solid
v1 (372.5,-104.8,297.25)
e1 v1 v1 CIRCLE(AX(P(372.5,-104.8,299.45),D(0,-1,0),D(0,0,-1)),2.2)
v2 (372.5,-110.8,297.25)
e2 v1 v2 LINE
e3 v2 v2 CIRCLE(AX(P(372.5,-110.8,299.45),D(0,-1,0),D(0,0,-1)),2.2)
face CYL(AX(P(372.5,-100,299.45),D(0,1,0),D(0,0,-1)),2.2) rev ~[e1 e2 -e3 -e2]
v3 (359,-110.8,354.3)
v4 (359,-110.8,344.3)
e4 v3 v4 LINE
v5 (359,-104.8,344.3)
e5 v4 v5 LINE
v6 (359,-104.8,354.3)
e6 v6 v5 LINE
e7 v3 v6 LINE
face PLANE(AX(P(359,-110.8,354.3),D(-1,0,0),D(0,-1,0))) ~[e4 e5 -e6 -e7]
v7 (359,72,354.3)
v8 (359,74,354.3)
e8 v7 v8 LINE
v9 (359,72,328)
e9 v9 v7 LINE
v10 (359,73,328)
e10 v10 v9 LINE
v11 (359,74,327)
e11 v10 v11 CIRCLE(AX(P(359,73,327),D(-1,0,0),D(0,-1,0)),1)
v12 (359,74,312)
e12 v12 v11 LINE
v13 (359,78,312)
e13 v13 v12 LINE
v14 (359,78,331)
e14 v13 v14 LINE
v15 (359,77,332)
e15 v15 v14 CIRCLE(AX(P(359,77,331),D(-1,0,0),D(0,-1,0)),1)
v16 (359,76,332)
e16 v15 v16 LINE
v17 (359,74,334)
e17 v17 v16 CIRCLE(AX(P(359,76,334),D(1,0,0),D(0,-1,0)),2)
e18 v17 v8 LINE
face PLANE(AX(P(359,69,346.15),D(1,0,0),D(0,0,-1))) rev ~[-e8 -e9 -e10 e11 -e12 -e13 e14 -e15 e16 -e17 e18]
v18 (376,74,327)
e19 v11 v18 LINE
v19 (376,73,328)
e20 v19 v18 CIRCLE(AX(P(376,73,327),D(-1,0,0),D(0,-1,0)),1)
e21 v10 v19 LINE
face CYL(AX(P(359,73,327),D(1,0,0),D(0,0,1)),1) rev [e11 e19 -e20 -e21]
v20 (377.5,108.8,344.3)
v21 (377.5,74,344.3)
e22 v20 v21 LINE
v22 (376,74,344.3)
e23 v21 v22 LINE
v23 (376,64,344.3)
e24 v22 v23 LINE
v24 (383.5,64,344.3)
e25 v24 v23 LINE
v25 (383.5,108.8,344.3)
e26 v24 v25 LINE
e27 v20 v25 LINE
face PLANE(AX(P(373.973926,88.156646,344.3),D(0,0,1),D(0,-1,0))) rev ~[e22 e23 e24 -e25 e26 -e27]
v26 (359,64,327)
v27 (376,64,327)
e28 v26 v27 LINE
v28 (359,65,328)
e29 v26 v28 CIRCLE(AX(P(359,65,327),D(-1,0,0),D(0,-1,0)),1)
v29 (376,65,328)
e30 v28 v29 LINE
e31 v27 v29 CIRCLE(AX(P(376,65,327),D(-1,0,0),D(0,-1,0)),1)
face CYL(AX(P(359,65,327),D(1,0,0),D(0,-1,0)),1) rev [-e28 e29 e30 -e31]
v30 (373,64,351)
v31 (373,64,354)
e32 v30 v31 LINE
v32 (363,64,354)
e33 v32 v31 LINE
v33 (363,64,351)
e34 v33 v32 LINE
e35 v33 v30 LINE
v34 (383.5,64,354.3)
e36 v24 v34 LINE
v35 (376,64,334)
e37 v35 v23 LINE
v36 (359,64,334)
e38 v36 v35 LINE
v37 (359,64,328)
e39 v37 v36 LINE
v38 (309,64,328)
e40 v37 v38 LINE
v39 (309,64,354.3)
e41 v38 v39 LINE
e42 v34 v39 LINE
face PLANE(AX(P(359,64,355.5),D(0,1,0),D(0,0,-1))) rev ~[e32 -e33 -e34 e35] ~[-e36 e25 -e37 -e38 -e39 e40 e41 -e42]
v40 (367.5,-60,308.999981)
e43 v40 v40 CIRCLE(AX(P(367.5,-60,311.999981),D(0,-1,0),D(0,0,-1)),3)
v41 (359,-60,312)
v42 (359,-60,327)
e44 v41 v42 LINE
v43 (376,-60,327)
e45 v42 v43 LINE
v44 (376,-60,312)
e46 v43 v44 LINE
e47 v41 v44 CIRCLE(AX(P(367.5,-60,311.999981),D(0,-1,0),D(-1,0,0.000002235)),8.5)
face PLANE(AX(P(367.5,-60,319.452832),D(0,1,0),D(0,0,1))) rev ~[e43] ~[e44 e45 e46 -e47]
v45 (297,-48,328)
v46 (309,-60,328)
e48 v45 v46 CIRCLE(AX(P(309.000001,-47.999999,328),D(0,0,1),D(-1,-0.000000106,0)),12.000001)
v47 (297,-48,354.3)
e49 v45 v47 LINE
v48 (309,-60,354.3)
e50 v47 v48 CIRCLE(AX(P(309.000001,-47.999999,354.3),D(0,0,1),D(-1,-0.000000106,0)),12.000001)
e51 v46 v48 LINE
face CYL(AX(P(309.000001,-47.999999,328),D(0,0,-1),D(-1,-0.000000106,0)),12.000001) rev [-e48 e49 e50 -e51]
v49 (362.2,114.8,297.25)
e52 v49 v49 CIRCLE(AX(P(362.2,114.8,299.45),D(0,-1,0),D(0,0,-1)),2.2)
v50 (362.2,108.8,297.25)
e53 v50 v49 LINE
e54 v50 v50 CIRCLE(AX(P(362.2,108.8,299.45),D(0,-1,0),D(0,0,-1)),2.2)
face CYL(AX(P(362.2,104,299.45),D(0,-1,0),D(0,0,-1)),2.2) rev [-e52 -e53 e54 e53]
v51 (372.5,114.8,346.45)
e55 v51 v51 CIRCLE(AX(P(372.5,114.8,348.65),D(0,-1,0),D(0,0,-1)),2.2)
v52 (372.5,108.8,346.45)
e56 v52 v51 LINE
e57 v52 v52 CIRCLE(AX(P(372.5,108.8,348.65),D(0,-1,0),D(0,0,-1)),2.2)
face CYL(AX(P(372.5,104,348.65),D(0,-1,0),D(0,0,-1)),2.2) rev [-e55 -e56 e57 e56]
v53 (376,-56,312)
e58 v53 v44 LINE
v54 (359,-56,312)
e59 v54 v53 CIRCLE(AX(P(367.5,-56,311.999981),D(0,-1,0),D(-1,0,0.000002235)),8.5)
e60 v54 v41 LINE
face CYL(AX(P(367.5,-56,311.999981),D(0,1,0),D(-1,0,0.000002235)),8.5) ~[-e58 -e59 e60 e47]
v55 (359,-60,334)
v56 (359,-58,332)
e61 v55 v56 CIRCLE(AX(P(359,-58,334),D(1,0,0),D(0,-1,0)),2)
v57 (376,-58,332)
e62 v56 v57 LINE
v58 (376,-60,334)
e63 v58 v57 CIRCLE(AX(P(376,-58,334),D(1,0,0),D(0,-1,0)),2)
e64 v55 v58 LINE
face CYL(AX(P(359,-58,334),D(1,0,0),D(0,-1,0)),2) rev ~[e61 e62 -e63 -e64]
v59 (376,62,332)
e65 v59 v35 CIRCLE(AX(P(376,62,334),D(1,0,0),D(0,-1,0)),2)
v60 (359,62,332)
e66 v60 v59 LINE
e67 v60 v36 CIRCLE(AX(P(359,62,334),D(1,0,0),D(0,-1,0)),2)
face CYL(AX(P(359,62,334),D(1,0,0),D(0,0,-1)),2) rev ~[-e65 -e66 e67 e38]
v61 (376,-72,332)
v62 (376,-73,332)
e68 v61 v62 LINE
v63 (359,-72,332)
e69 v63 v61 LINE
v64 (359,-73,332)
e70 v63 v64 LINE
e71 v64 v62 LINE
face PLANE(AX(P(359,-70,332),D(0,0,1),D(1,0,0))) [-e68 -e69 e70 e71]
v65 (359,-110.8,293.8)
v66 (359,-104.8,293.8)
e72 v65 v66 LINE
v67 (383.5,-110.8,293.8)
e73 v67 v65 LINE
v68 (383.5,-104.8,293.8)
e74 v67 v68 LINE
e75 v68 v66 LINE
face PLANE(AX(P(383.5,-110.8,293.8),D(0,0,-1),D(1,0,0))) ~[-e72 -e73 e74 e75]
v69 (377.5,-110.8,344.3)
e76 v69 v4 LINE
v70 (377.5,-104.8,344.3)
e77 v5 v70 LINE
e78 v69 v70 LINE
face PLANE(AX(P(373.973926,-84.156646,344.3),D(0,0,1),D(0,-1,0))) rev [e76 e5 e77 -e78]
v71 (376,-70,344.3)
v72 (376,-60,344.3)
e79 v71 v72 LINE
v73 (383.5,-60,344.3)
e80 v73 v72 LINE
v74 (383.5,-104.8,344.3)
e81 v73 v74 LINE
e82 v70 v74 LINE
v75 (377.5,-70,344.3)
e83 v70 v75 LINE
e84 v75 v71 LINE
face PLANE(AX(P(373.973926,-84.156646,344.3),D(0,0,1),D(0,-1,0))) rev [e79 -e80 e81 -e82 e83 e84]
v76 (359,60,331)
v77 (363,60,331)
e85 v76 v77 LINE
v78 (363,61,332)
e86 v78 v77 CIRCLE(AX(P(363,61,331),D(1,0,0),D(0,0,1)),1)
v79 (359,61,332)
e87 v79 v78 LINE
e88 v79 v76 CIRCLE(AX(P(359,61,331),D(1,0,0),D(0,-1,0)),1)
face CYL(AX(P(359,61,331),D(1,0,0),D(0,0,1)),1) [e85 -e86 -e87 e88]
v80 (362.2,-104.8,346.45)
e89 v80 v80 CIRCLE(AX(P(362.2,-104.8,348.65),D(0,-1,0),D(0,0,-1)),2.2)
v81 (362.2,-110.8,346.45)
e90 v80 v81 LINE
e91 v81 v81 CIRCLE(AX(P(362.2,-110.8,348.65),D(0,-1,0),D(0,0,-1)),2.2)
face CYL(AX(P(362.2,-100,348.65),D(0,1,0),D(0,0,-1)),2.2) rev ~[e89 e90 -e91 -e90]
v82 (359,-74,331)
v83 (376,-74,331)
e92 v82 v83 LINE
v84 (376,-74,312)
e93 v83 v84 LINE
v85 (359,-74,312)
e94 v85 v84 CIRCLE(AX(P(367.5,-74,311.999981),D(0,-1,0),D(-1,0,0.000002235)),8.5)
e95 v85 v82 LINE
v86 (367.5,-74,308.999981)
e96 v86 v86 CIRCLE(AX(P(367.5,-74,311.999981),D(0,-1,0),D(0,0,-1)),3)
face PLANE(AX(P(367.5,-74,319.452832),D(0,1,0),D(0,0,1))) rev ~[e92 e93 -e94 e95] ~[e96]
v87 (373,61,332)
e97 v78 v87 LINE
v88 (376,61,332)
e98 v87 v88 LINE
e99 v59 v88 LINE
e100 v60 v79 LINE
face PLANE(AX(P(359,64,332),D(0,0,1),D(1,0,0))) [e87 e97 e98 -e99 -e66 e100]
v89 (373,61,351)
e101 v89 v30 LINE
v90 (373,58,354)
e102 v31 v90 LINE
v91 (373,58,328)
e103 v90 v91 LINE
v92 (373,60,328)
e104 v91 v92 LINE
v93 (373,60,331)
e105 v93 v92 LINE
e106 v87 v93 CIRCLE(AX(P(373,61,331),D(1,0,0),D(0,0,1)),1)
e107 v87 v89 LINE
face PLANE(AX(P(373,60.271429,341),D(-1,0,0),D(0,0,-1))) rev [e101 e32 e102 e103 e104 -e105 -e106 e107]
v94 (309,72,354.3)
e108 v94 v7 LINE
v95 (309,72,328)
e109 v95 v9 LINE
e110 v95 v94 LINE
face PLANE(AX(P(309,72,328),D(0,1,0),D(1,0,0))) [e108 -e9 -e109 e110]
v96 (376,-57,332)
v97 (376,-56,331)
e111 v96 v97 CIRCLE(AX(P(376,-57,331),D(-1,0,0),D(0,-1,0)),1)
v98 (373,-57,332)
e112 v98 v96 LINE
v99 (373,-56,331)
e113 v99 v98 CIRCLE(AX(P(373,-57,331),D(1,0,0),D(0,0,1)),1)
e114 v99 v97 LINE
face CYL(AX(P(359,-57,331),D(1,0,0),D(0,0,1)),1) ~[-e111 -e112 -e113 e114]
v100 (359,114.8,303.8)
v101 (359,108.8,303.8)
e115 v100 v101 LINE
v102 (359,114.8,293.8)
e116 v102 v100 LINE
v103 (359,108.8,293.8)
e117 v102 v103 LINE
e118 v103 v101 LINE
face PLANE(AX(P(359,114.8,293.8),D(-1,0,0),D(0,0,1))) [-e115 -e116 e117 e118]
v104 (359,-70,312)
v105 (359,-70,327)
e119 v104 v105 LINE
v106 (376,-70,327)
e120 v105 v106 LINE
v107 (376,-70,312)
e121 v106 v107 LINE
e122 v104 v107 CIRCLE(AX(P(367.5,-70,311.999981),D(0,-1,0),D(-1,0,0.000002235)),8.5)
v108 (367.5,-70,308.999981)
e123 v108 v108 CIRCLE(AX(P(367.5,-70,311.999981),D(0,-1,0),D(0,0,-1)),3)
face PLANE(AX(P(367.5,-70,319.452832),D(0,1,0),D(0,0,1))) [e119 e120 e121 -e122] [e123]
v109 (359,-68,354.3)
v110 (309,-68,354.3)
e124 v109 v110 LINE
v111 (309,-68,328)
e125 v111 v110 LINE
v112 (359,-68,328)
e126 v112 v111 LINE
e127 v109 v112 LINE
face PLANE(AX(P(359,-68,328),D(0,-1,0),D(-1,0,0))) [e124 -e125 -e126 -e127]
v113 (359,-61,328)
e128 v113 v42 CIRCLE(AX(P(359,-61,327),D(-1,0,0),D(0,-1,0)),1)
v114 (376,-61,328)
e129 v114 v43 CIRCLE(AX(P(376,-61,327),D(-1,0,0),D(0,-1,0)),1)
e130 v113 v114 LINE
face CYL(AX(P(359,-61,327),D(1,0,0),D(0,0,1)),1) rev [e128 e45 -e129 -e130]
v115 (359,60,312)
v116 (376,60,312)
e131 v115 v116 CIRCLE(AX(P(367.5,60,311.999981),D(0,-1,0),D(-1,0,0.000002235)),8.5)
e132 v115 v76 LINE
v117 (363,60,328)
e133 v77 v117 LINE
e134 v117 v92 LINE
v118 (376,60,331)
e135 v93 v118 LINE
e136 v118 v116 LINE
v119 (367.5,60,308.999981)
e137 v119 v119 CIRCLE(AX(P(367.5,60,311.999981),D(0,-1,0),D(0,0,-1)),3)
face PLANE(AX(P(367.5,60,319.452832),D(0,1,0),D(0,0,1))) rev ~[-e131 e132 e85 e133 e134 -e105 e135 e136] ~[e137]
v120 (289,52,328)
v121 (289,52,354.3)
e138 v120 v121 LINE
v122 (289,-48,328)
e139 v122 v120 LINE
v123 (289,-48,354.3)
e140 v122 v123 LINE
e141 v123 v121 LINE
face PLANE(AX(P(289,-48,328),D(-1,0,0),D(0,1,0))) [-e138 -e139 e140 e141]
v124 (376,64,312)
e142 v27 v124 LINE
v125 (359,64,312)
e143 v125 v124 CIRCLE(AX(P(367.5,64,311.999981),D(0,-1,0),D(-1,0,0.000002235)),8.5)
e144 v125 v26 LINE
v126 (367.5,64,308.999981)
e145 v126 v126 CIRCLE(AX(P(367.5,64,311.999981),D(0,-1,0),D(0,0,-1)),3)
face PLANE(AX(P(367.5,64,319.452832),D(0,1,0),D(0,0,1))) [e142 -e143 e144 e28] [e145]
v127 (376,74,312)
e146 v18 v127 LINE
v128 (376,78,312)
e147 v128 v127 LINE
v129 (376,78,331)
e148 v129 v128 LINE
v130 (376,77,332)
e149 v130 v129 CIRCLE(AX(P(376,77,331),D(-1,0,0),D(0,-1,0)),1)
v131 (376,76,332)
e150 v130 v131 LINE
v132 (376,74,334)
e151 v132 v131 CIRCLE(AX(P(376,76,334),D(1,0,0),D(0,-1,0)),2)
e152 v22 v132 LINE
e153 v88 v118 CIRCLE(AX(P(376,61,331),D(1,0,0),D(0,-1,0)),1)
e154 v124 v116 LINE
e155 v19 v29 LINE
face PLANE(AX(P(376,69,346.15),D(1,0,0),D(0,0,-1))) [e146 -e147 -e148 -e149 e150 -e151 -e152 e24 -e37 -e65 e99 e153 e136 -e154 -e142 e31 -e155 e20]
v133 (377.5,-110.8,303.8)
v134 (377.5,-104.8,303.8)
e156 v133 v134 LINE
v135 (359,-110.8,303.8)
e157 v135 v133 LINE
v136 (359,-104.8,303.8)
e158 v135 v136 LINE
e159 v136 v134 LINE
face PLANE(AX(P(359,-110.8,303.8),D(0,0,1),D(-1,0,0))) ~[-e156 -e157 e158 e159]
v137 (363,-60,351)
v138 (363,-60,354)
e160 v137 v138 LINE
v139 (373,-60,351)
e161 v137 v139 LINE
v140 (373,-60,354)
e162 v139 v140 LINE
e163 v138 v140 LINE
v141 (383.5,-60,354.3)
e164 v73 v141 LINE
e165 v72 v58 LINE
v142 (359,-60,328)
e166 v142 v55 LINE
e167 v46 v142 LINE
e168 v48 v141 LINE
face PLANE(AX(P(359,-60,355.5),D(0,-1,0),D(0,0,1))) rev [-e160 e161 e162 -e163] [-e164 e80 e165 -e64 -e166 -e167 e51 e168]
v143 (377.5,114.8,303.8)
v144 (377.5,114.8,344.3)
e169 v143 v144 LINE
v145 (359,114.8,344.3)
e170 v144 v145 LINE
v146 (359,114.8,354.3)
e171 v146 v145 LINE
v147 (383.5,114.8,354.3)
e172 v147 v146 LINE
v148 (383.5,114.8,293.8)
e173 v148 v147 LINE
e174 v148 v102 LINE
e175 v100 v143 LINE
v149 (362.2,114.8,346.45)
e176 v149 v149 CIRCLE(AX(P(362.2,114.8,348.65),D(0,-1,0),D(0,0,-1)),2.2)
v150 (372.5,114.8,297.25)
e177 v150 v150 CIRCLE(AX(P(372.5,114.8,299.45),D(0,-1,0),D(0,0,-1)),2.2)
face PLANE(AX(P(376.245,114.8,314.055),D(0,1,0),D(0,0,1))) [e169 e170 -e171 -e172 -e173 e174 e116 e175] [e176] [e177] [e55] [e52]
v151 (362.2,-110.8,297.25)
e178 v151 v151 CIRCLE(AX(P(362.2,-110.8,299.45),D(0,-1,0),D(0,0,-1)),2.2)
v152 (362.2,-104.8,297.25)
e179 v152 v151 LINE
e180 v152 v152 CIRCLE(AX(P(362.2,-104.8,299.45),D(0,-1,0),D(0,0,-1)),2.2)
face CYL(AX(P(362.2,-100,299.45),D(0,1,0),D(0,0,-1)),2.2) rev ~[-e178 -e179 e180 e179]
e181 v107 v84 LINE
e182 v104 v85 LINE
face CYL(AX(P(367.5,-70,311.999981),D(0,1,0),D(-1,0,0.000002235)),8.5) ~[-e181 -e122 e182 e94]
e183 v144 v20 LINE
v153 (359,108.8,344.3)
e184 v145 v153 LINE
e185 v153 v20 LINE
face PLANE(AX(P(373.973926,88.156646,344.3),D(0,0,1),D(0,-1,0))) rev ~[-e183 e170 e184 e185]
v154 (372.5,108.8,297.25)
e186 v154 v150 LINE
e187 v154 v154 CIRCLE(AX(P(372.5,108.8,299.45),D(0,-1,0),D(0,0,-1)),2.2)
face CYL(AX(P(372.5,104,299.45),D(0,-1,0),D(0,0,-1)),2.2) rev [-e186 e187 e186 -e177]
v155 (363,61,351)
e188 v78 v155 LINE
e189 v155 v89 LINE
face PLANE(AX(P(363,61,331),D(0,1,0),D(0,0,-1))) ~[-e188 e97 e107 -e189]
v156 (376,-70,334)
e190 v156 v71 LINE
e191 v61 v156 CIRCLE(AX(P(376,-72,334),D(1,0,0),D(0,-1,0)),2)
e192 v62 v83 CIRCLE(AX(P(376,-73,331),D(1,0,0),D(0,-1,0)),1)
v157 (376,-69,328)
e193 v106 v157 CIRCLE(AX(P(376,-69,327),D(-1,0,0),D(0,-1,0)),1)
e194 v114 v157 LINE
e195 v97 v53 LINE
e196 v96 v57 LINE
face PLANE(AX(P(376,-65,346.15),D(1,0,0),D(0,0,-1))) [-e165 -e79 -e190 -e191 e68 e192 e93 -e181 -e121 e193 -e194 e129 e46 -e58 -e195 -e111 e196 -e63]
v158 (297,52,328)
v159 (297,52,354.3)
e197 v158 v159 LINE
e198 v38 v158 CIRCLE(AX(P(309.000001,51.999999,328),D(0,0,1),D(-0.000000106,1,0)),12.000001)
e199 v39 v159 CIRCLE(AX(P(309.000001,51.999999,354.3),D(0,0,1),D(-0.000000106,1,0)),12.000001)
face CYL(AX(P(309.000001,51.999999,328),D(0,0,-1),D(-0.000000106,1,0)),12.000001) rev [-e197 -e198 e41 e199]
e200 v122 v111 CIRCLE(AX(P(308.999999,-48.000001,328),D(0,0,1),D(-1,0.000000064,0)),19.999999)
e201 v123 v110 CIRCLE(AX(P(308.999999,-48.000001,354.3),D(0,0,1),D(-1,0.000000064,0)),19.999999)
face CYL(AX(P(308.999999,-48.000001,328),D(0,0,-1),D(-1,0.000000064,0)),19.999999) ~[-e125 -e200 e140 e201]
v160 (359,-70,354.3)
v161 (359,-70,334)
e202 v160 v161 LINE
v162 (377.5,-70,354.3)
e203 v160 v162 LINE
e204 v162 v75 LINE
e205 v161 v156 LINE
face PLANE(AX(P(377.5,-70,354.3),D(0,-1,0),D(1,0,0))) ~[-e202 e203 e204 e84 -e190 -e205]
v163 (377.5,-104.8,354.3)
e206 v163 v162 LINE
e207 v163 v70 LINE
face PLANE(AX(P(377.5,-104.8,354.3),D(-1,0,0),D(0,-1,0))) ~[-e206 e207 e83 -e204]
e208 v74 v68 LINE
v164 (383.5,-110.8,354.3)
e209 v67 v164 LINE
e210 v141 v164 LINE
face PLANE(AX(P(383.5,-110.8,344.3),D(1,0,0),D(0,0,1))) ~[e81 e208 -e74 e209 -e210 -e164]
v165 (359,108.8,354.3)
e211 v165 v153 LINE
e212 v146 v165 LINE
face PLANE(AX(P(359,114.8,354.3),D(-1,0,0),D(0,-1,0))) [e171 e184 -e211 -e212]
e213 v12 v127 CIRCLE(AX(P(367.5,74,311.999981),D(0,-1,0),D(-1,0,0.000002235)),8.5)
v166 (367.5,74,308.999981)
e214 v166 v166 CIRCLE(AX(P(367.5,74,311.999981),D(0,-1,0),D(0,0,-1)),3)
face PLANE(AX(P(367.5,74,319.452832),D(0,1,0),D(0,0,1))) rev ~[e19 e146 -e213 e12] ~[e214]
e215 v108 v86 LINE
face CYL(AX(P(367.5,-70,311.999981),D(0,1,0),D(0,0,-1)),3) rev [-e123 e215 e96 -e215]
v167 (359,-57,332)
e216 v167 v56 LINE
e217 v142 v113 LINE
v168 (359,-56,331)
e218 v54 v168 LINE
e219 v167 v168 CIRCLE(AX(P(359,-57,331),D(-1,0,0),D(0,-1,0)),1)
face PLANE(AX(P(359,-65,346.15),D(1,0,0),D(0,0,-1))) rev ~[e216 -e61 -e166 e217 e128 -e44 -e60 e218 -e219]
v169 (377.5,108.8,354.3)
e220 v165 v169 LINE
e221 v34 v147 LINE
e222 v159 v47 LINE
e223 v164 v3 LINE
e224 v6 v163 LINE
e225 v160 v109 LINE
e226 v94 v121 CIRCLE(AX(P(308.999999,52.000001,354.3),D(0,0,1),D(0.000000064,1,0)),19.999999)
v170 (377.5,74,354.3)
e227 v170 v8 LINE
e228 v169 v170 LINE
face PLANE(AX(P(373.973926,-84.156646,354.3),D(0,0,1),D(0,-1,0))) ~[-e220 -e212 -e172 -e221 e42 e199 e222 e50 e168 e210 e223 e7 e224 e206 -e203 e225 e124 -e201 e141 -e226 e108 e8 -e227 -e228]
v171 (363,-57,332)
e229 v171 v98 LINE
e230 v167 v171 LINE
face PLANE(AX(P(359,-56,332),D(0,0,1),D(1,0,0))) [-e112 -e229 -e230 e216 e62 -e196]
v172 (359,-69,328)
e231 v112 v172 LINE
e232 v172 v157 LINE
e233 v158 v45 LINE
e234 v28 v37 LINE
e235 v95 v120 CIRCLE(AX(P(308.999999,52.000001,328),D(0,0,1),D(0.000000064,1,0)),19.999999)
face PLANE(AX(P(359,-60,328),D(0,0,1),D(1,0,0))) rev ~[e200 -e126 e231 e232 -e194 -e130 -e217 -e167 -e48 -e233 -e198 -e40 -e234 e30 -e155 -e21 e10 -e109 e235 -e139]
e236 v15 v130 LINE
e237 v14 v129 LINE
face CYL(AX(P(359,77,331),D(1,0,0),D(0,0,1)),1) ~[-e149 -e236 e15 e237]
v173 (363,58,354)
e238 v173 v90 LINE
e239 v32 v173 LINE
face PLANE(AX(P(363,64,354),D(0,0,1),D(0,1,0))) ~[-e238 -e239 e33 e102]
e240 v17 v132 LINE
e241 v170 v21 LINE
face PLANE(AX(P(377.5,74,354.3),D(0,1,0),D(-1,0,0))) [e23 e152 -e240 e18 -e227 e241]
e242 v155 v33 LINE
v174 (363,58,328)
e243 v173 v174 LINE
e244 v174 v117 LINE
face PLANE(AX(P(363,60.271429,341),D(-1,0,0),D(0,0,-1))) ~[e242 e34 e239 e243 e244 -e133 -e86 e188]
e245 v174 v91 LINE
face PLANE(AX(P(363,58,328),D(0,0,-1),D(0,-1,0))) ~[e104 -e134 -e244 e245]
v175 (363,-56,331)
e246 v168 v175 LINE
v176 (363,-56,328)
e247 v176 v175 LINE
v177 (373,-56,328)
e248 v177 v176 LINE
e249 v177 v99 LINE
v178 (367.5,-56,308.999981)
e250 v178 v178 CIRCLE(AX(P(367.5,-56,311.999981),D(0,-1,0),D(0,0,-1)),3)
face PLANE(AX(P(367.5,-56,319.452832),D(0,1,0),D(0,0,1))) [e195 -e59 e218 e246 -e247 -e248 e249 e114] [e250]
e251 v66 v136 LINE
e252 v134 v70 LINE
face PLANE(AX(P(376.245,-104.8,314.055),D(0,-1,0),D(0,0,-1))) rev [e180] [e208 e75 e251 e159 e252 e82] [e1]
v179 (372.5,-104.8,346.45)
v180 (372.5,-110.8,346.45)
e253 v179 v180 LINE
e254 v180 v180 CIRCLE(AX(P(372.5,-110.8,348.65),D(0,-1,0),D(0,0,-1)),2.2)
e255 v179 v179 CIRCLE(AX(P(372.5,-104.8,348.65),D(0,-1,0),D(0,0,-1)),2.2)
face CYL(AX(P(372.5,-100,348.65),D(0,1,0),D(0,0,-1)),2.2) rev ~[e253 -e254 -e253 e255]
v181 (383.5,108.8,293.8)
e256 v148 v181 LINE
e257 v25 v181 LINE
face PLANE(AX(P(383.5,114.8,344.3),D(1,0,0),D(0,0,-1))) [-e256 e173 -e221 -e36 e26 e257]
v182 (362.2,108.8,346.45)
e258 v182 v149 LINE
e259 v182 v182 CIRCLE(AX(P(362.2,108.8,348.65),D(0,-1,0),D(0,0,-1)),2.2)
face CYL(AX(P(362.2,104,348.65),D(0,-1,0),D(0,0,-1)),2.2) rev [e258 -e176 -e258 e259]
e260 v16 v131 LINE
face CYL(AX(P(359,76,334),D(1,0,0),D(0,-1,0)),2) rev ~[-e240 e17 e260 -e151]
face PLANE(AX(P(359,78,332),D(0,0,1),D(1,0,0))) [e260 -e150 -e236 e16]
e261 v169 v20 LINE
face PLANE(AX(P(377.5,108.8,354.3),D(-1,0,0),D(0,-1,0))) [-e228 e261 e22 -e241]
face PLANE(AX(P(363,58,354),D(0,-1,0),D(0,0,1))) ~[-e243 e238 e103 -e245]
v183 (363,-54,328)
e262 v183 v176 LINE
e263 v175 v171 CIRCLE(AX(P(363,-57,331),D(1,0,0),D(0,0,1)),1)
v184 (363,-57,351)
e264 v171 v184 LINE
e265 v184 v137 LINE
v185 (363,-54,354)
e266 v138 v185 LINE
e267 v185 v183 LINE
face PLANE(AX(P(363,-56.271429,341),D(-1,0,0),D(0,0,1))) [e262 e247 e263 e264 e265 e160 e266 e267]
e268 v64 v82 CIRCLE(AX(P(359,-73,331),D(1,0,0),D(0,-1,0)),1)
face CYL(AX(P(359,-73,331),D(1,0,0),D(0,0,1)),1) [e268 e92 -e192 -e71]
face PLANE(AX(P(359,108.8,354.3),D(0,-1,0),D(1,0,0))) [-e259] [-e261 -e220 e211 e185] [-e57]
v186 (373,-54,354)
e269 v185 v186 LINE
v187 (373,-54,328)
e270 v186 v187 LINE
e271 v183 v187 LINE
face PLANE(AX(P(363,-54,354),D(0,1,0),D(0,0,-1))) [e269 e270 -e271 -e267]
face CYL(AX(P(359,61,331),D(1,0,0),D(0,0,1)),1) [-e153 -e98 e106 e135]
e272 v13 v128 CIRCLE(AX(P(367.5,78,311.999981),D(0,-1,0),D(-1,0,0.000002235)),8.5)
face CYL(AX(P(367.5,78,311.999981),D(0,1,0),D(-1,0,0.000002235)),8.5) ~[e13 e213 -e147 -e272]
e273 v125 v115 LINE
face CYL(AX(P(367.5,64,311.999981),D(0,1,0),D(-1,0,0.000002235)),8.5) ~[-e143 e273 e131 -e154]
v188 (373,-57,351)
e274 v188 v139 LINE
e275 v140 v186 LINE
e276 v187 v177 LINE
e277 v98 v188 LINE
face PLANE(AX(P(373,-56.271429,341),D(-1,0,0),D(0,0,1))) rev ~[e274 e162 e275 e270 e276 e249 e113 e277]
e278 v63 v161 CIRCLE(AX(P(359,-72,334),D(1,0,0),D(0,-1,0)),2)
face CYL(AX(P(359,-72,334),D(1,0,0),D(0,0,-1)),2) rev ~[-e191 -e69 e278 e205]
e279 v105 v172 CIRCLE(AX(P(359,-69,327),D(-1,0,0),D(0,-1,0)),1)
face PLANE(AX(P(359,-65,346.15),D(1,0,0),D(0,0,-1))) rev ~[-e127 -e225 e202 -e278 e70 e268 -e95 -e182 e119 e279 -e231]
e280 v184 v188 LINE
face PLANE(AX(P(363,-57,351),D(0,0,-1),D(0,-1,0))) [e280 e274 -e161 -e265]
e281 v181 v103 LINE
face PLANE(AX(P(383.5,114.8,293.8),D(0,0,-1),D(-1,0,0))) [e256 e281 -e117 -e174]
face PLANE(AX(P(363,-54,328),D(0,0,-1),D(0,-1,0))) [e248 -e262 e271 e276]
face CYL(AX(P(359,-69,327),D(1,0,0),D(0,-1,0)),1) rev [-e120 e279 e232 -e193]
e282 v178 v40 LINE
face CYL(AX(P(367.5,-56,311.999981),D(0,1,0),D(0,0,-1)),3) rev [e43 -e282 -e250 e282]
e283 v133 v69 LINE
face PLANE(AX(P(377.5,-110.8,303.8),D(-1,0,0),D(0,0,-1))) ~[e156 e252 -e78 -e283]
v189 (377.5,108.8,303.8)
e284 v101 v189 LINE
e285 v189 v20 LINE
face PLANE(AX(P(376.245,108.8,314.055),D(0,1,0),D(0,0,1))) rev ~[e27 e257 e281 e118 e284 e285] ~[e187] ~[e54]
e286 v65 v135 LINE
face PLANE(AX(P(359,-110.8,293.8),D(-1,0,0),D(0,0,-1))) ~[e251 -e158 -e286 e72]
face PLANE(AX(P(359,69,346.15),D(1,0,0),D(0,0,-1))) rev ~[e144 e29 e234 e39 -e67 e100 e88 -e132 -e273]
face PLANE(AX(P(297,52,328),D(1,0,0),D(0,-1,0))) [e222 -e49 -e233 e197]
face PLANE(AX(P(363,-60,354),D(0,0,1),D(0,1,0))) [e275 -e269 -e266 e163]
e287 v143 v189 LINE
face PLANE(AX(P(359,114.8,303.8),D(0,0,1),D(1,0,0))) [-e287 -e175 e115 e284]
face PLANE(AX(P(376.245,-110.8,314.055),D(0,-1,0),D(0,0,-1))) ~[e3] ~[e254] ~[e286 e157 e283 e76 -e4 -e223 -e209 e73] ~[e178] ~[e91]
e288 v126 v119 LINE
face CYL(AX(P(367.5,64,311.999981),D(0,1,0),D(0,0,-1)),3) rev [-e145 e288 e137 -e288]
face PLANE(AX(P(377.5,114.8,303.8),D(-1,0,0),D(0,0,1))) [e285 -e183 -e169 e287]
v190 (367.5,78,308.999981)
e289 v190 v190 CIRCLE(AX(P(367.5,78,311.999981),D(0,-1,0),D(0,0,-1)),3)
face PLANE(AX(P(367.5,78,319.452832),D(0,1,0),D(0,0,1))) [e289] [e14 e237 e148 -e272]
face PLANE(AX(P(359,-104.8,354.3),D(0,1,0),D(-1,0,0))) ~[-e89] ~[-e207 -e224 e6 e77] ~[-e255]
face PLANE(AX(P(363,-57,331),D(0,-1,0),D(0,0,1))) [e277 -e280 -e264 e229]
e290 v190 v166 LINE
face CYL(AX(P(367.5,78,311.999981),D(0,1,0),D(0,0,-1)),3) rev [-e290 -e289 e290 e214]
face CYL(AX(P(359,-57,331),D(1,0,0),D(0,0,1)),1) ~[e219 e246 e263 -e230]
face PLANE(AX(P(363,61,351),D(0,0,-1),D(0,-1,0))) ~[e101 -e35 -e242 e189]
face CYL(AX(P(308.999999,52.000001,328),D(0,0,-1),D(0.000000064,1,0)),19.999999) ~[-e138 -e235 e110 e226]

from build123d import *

# Parameters (mm, degrees)
PAD033_DEPTH                = 10
PAD032_DEPTH                = 10
BOX026_W                    = 12
BOX026_H                    = 10
BOX026_DEPTH                = 30
CYLINDER036_R               = 2.2
CYLINDER036_DEPTH           = 18
CYLINDER036_ROLL_ANGLE      = -90
ARRAY006_X_COUNT            = 2
ARRAY006_X_PITCH            = 49.2
ARRAY006_Z_COUNT            = 2
ARRAY006_Z_PITCH            = 10.3
PAD021_DEPTH                = 6
PAD020_DEPTH                = 10
BOX027_W                    = 12
BOX027_H                    = 10
BOX027_DEPTH                = 30
CYLINDER037_R               = 2.2
CYLINDER037_DEPTH           = 18
CYLINDER037_ROLL_ANGLE      = -90
ARRAY007_X_COUNT            = 2
ARRAY007_X_PITCH            = 49.2
ARRAY007_Z_COUNT            = 2
ARRAY007_Z_PITCH            = 10.3
PAD023_DEPTH                = 6
PAD022_DEPTH                = 10
BOX025_W                    = 16.3
BOX025_H                    = 10
BOX025_DEPTH                = 17
SKETCH018_R                 = 3
PAD018_DEPTH                = 4
SKETCH019_R                 = 3
PAD019_DEPTH                = 4
BOX024_W                    = 20
BOX024_H                    = 17
BOX024_DEPTH                = 10
FILLET007_R                 = 1
FILLET007_ROLL_ANGLE        = 90
FILLET008_1_R               = 2
FILLET008_2_R               = 1
BOX018_W                    = 16.3
BOX018_H                    = 10
BOX018_DEPTH                = 17
SKETCH010_R                 = 3
PAD010_DEPTH                = 4
SKETCH011_R                 = 3
PAD011_DEPTH                = 4
BOX016_W                    = 20
BOX016_H                    = 17
BOX016_DEPTH                = 10
FILLET005_R                 = 1
FILLET005_ROLL_ANGLE        = 90
FILLET006_1_R               = 2
FILLET006_2_R               = 1
PAD009_DEPTH                = 26.3
FUSION009003041_PITCH_ANGLE = 90


with BuildPart() as suje_cadera1:
    # Sketch033 → Pad033 (new body)
    with BuildSketch(Plane(origin=(-28, -127, 4), x_dir=(1, 0, 0), z_dir=(0, 0, 1))):
        Polygon((0, 0), (0, 6), (26, 6), (26, 0), (23, 0), (23, 3), (3, 3), (3, 0), align=None)
    extrude(amount=PAD033_DEPTH)


with BuildPart() as suje_cadera1_mirror:
    # Part__Mirroring009: instance of suje_cadera1
    add(suje_cadera1.part.mirror(Plane(origin=(0, 0, 0), x_dir=(1, 0, 0), z_dir=(0, 1, 0))))


with BuildPart() as suje_cadera1_mirror_1:
    # Part__Mirroring009 placement: moved
    add(suje_cadera1_mirror.part.moved(Location((0, -130, 0))))


with BuildPart() as sujetadores_cadera:
    # Sketch032 → Pad032 (new body)
    with BuildSketch(Plane(origin=(-28, -127, 4), x_dir=(1, 0, 0), z_dir=(0, 0, 1))):
        Polygon((0, 0), (0, 6), (26, 6), (26, 0), (23, 0), (23, 3), (3, 3), (3, 0), align=None)
    extrude(amount=PAD032_DEPTH)

    # Fusion009003040: union suje_cadera1_Mirror
    add(suje_cadera1_mirror_1.part)


with BuildPart() as resta_sujetador_cadera:
    # Box026 → Box026 (new body)
    with BuildSketch(Plane(origin=(-29.5, -13, 0), x_dir=(1, 0, 0), z_dir=(0, 0, 1))):
        with Locations((6, 5)):
            Rectangle(BOX026_W, BOX026_H)
    extrude(amount=BOX026_DEPTH)


with BuildPart() as taladros_suje_motor001:
    # Cylinder036 → Cylinder036 (new body)
    with BuildSketch(Plane.XY):
        Circle(CYLINDER036_R)
    extrude(amount=CYLINDER036_DEPTH)


with BuildPart() as taladros_suje_motor001_1:
    # Cylinder036 roll: moved
    add(taladros_suje_motor001.part.rotate(Axis((0, 0, 0), (1, 0, 0)), CYLINDER036_ROLL_ANGLE))


with BuildPart() as taladros_suje_motor001_2:
    # Cylinder036 placement: moved
    add(taladros_suje_motor001_1.part.moved(Location((150.075, 41, 13.5))))

    # Array006 X: Taladros_suje_motor001 ×2


with BuildPart() as taladros_suje_motor001_3:
    add(taladros_suje_motor001_2.part)
    with Locations(*[(i * ARRAY006_X_PITCH, 0, 0) for i in range(1, ARRAY006_X_COUNT)]):
        add(taladros_suje_motor001_2.part)

    # Array006 Z: Taladros_suje_motor001 ×2


with BuildPart() as taladros_suje_motor001_4:
    add(taladros_suje_motor001_3.part)
    with Locations(*[(0, 0, -i * ARRAY006_Z_PITCH) for i in range(1, ARRAY006_Z_COUNT)]):
        add(taladros_suje_motor001_3.part)


with BuildPart() as suje_motor004:
    # Sketch021 → Pad021 (new body)
    with BuildSketch(Plane(origin=(10, 54.8, 0), x_dir=(1, 0, 0), z_dir=(0, -1, 0))):
        Polygon((0, 18.5), (0, 24.5), (50.5, 24.5), (50.5, 0), (40.5, 0), (40.5, 18.5), align=None)
    extrude(amount=PAD021_DEPTH)


with BuildPart() as sujetador_cadera_full1:
    # Sketch020 → Pad020 (new body)
    with BuildSketch(Plane.YZ):
        Polygon((14, 0), (0, 0), (0, 24.5), (54.8, 24.5), (54.8, 0), (48.8, 0), (48.8, 18.5), (14, 18.5), align=None)
    extrude(amount=PAD020_DEPTH)

    # Fusion009003025: union Suje_motor004
    add(suje_motor004.part)


with BuildPart() as sujetador_cadera_full1_1:
    # Fusion009003025 placement: moved
    add(sujetador_cadera_full1.part.moved(Location((144.425, -3, 0))))

    # Cut017: cut Taladros_suje_motor001
    add(taladros_suje_motor001_4.part, mode=Mode.SUBTRACT)


with BuildPart() as sujetador_cadera_full1_2:
    # Cut017 placement: moved
    add(sujetador_cadera_full1_1.part.moved(Location((-172.725, -4, 0))))

    # Cut018: cut Resta_sujetador_cadera
    add(resta_sujetador_cadera.part, mode=Mode.SUBTRACT)


with BuildPart() as resta_sujetador_cadera001:
    # Box027 → Box027 (new body)
    with BuildSketch(Plane(origin=(-29.5, -13, 0), x_dir=(1, 0, 0), z_dir=(0, 0, 1))):
        with Locations((6, 5)):
            Rectangle(BOX027_W, BOX027_H)
    extrude(amount=BOX027_DEPTH)


with BuildPart() as taladros_suje_motor002:
    # Cylinder037 → Cylinder037 (new body)
    with BuildSketch(Plane.XY):
        Circle(CYLINDER037_R)
    extrude(amount=CYLINDER037_DEPTH)


with BuildPart() as taladros_suje_motor002_1:
    # Cylinder037 roll: moved
    add(taladros_suje_motor002.part.rotate(Axis((0, 0, 0), (1, 0, 0)), CYLINDER037_ROLL_ANGLE))


with BuildPart() as taladros_suje_motor002_2:
    # Cylinder037 placement: moved
    add(taladros_suje_motor002_1.part.moved(Location((150.075, 41, 13.5))))

    # Array007 X: Taladros_suje_motor002 ×2


with BuildPart() as taladros_suje_motor002_3:
    add(taladros_suje_motor002_2.part)
    with Locations(*[(i * ARRAY007_X_PITCH, 0, 0) for i in range(1, ARRAY007_X_COUNT)]):
        add(taladros_suje_motor002_2.part)

    # Array007 Z: Taladros_suje_motor002 ×2


with BuildPart() as taladros_suje_motor002_4:
    add(taladros_suje_motor002_3.part)
    with Locations(*[(0, 0, -i * ARRAY007_Z_PITCH) for i in range(1, ARRAY007_Z_COUNT)]):
        add(taladros_suje_motor002_3.part)


with BuildPart() as suje_motor007:
    # Sketch023 → Pad023 (new body)
    with BuildSketch(Plane(origin=(10, 54.8, 0), x_dir=(1, 0, 0), z_dir=(0, -1, 0))):
        Polygon((0, 18.5), (0, 24.5), (50.5, 24.5), (50.5, 0), (40.5, 0), (40.5, 18.5), align=None)
    extrude(amount=PAD023_DEPTH)


with BuildPart() as sujetador_cadera_full2:
    # Sketch022 → Pad022 (new body)
    with BuildSketch(Plane.YZ):
        Polygon((14, 0), (0, 0), (0, 24.5), (54.8, 24.5), (54.8, 0), (48.8, 0), (48.8, 18.5), (14, 18.5), align=None)
    extrude(amount=PAD022_DEPTH)

    # Fusion009003026: union Suje_motor007
    add(suje_motor007.part)


with BuildPart() as sujetador_cadera_full2_1:
    # Fusion009003026 placement: moved
    add(sujetador_cadera_full2.part.moved(Location((144.425, -3, 0))))

    # Cut019: cut Taladros_suje_motor002
    add(taladros_suje_motor002_4.part, mode=Mode.SUBTRACT)


with BuildPart() as sujetador_cadera_full2_2:
    # Cut019 placement: moved
    add(sujetador_cadera_full2_1.part.moved(Location((-172.725, -4, 0))))

    # Cut020: cut Resta_sujetador_cadera001
    add(resta_sujetador_cadera001.part, mode=Mode.SUBTRACT)


with BuildPart() as sujetador_cadera_full_mirror:
    # Part__Mirroring: instance of Sujetador_cadera_full2
    add(sujetador_cadera_full2_2.part.mirror(Plane(origin=(0, 0, 0), x_dir=(1, 0, 0), z_dir=(0, 1, 0))))


with BuildPart() as sujetador_cadera_full_mirror_1:
    # Part__Mirroring placement: moved
    add(sujetador_cadera_full_mirror.part.moved(Location((0, -130, 0))))


with BuildPart() as cubo_externo001:
    # Box025 → Box025 (new body)
    with BuildSketch(Plane(origin=(-26.3, -8, 0), x_dir=(1, 0, 0), z_dir=(0, 0, 1))):
        with Locations((8.15, 5)):
            Rectangle(BOX025_W, BOX025_H)
    extrude(amount=BOX025_DEPTH)


with BuildPart() as ciculo_gancho005:
    # Sketch018 → Pad018 (new body)
    with BuildSketch(Plane.XY):
        with BuildLine():
            Line((0, 17), (20, 17))
            ThreePointArc((20, 0), (28.500019, 8.5), (20, 17))
            Line((20, 0), (0, 0))
            Line((0, 0), (0, 17))
        make_face()
        with Locations((20.000019, 8.5)):
            Circle(SKETCH018_R, mode=Mode.SUBTRACT)
    extrude(amount=PAD018_DEPTH)


with BuildPart() as ciculo_gancho006:
    # Sketch019 → Pad019 (new body)
    with BuildSketch(Plane.XY.offset(14)):
        with BuildLine():
            Line((0, 17), (20, 17))
            ThreePointArc((20, 0), (28.500019, 8.5), (20, 17))
            Line((20, 0), (0, 0))
            Line((0, 0), (0, 17))
        make_face()
        with Locations((20.000019, 8.5)):
            Circle(SKETCH019_R, mode=Mode.SUBTRACT)
    extrude(amount=PAD019_DEPTH)


with BuildPart() as gancho_cadera1:
    # Box024 → Box024 (new body)
    with BuildSketch(Plane(origin=(-16, 0, 4), x_dir=(1, 0, 0), z_dir=(0, 0, 1))):
        with Locations((10, 8.5)):
            Rectangle(BOX024_W, BOX024_H)
    extrude(amount=BOX024_DEPTH)

    # Fusion009003021: union Ciculo_gancho005, Ciculo_gancho006
    add(ciculo_gancho005.part)
    add(ciculo_gancho006.part)

    # Fillet007
    fillet007_edges = [gancho_cadera1.edges().sort_by_distance(p)[0] for p in [
        (0, 8.5, 18),
        (-16, 0, 9),
        (-16, 17, 9),
        (0, 8.5, 0),
    ]]
    fillet(fillet007_edges, radius=FILLET007_R)


with BuildPart() as gancho_cadera1_1:
    # Fillet007 roll: moved
    add(gancho_cadera1.part.rotate(Axis((0, 0, 0), (1, 0, 0)), FILLET007_ROLL_ANGLE))


with BuildPart() as gancho_cadera1_2:
    # Fillet007 placement: moved
    add(gancho_cadera1_1.part.moved(Location((16, 15, 0))))

    # Fillet008 1
    fillet008_1_edges = [gancho_cadera1_2.edges().sort_by_distance(p)[0] for p in [
        (16, 1, 8.5),
        (16, 11, 8.5),
    ]]
    fillet(fillet008_1_edges, radius=FILLET008_1_R)

    # Fillet008 2
    fillet008_2_edges = [gancho_cadera1_2.edges().sort_by_distance(p)[0] for p in [
        (20, 1, 8.5),
        (20, 11, 8.5),
    ]]
    fillet(fillet008_2_edges, radius=FILLET008_2_R)


with BuildPart() as gancho_cadera1_3:
    # Fillet008 placement: moved
    add(gancho_cadera1_2.part.moved(Location((-20, -9, 0))))

    # Fusion009003022: union Cubo_externo001
    add(cubo_externo001.part)


with BuildPart() as gancho_cadera1_4:
    # Fusion009003022 placement: moved
    add(gancho_cadera1_3.part.moved(Location((0, -134, 0))))


with BuildPart() as cubo_externo:
    # Box018 → Box018 (new body)
    with BuildSketch(Plane(origin=(-26.3, -8, 0), x_dir=(1, 0, 0), z_dir=(0, 0, 1))):
        with Locations((8.15, 5)):
            Rectangle(BOX018_W, BOX018_H)
    extrude(amount=BOX018_DEPTH)


with BuildPart() as ciculo_gancho003:
    # Sketch010 → Pad010 (new body)
    with BuildSketch(Plane.XY):
        with BuildLine():
            Line((0, 17), (20, 17))
            ThreePointArc((20, 0), (28.500019, 8.5), (20, 17))
            Line((20, 0), (0, 0))
            Line((0, 0), (0, 17))
        make_face()
        with Locations((20.000019, 8.5)):
            Circle(SKETCH010_R, mode=Mode.SUBTRACT)
    extrude(amount=PAD010_DEPTH)


with BuildPart() as ciculo_gancho004:
    # Sketch011 → Pad011 (new body)
    with BuildSketch(Plane.XY.offset(14)):
        with BuildLine():
            Line((0, 17), (20, 17))
            ThreePointArc((20, 0), (28.500019, 8.5), (20, 17))
            Line((20, 0), (0, 0))
            Line((0, 0), (0, 17))
        make_face()
        with Locations((20.000019, 8.5)):
            Circle(SKETCH011_R, mode=Mode.SUBTRACT)
    extrude(amount=PAD011_DEPTH)


with BuildPart() as ganchos_cadera:
    # Box016 → Box016 (new body)
    with BuildSketch(Plane(origin=(-16, 0, 4), x_dir=(1, 0, 0), z_dir=(0, 0, 1))):
        with Locations((10, 8.5)):
            Rectangle(BOX016_W, BOX016_H)
    extrude(amount=BOX016_DEPTH)

    # Fusion009003009: union Ciculo_gancho003, Ciculo_gancho004
    add(ciculo_gancho003.part)
    add(ciculo_gancho004.part)

    # Fillet005
    fillet005_edges = [ganchos_cadera.edges().sort_by_distance(p)[0] for p in [
        (0, 8.5, 18),
        (-16, 0, 9),
        (-16, 17, 9),
        (0, 8.5, 0),
    ]]
    fillet(fillet005_edges, radius=FILLET005_R)


with BuildPart() as ganchos_cadera_1:
    # Fillet005 roll: moved
    add(ganchos_cadera.part.rotate(Axis((0, 0, 0), (1, 0, 0)), FILLET005_ROLL_ANGLE))


with BuildPart() as ganchos_cadera_2:
    # Fillet005 placement: moved
    add(ganchos_cadera_1.part.moved(Location((16, 15, 0))))

    # Fillet006 1
    fillet006_1_edges = [ganchos_cadera_2.edges().sort_by_distance(p)[0] for p in [
        (16, 1, 8.5),
        (16, 11, 8.5),
    ]]
    fillet(fillet006_1_edges, radius=FILLET006_1_R)

    # Fillet006 2
    fillet006_2_edges = [ganchos_cadera_2.edges().sort_by_distance(p)[0] for p in [
        (20, 1, 8.5),
        (20, 11, 8.5),
    ]]
    fillet(fillet006_2_edges, radius=FILLET006_2_R)


with BuildPart() as ganchos_cadera_3:
    # Fillet006 placement: moved
    add(ganchos_cadera_2.part.moved(Location((-20, -9, 0))))

    # Fusion009003020: union Cubo_externo
    add(cubo_externo.part)

    # Fusion009003023: union Gancho_cadera1
    add(gancho_cadera1_4.part)


with BuildPart() as cadera_full_suje:
    # Sketch009 → Pad009 (new body)
    with BuildSketch(Plane(origin=(0, 0, 0), x_dir=(0, 1, 0), z_dir=(-1, 0, 0))):
        with BuildLine():
            Line((-140, 0), (-140, 50))
            ThreePointArc((-120, 70), (-134.142136, 64.142136), (-140, 50))
            Line((-120, 70), (-20, 70))
            ThreePointArc((0, 50), (-5.857864, 64.142136), (-20, 70))
            Line((0, 50), (0, 0))
            Line((0, 0), (-8, 0))
            Line((-8, 0), (-8, 50))
            ThreePointArc((-8, 50), (-11.514719, 58.485281), (-20, 62))
            Line((-20, 62), (-120, 62))
            ThreePointArc((-120, 62), (-128.485281, 58.485281), (-132, 50))
            Line((-132, 50), (-132, 0))
            Line((-132, 0), (-140, 0))
        make_face()
    extrude(amount=PAD009_DEPTH)

    # Fusion009003024: union Ganchos_cadera
    add(ganchos_cadera_3.part)


with BuildPart() as cadera_full_suje_1:
    # Fusion009003024 placement: moved
    add(cadera_full_suje.part.moved(Location((-2, 5, 0))))

    # Fusion009003027: union Sujetador_cadera_full1, Sujetador_cadera_full Mirror
    add(sujetador_cadera_full1_2.part)
    add(sujetador_cadera_full_mirror_1.part)

    # Fusion009003041: union Sujetadores_cadera
    add(sujetadores_cadera.part)


with BuildPart() as cadera_full_suje_2:
    # Fusion009003041 pitch: moved
    add(cadera_full_suje_1.part.rotate(Axis((0, 0, 0), (0, 1, 0)), FUSION009003041_PITCH_ANGLE))


with BuildPart() as cadera_full_suje_3:
    # Fusion009003041 placement: moved
    add(cadera_full_suje_2.part.moved(Location((359, 67, 326))))


solid = cadera_full_suje_3.part
